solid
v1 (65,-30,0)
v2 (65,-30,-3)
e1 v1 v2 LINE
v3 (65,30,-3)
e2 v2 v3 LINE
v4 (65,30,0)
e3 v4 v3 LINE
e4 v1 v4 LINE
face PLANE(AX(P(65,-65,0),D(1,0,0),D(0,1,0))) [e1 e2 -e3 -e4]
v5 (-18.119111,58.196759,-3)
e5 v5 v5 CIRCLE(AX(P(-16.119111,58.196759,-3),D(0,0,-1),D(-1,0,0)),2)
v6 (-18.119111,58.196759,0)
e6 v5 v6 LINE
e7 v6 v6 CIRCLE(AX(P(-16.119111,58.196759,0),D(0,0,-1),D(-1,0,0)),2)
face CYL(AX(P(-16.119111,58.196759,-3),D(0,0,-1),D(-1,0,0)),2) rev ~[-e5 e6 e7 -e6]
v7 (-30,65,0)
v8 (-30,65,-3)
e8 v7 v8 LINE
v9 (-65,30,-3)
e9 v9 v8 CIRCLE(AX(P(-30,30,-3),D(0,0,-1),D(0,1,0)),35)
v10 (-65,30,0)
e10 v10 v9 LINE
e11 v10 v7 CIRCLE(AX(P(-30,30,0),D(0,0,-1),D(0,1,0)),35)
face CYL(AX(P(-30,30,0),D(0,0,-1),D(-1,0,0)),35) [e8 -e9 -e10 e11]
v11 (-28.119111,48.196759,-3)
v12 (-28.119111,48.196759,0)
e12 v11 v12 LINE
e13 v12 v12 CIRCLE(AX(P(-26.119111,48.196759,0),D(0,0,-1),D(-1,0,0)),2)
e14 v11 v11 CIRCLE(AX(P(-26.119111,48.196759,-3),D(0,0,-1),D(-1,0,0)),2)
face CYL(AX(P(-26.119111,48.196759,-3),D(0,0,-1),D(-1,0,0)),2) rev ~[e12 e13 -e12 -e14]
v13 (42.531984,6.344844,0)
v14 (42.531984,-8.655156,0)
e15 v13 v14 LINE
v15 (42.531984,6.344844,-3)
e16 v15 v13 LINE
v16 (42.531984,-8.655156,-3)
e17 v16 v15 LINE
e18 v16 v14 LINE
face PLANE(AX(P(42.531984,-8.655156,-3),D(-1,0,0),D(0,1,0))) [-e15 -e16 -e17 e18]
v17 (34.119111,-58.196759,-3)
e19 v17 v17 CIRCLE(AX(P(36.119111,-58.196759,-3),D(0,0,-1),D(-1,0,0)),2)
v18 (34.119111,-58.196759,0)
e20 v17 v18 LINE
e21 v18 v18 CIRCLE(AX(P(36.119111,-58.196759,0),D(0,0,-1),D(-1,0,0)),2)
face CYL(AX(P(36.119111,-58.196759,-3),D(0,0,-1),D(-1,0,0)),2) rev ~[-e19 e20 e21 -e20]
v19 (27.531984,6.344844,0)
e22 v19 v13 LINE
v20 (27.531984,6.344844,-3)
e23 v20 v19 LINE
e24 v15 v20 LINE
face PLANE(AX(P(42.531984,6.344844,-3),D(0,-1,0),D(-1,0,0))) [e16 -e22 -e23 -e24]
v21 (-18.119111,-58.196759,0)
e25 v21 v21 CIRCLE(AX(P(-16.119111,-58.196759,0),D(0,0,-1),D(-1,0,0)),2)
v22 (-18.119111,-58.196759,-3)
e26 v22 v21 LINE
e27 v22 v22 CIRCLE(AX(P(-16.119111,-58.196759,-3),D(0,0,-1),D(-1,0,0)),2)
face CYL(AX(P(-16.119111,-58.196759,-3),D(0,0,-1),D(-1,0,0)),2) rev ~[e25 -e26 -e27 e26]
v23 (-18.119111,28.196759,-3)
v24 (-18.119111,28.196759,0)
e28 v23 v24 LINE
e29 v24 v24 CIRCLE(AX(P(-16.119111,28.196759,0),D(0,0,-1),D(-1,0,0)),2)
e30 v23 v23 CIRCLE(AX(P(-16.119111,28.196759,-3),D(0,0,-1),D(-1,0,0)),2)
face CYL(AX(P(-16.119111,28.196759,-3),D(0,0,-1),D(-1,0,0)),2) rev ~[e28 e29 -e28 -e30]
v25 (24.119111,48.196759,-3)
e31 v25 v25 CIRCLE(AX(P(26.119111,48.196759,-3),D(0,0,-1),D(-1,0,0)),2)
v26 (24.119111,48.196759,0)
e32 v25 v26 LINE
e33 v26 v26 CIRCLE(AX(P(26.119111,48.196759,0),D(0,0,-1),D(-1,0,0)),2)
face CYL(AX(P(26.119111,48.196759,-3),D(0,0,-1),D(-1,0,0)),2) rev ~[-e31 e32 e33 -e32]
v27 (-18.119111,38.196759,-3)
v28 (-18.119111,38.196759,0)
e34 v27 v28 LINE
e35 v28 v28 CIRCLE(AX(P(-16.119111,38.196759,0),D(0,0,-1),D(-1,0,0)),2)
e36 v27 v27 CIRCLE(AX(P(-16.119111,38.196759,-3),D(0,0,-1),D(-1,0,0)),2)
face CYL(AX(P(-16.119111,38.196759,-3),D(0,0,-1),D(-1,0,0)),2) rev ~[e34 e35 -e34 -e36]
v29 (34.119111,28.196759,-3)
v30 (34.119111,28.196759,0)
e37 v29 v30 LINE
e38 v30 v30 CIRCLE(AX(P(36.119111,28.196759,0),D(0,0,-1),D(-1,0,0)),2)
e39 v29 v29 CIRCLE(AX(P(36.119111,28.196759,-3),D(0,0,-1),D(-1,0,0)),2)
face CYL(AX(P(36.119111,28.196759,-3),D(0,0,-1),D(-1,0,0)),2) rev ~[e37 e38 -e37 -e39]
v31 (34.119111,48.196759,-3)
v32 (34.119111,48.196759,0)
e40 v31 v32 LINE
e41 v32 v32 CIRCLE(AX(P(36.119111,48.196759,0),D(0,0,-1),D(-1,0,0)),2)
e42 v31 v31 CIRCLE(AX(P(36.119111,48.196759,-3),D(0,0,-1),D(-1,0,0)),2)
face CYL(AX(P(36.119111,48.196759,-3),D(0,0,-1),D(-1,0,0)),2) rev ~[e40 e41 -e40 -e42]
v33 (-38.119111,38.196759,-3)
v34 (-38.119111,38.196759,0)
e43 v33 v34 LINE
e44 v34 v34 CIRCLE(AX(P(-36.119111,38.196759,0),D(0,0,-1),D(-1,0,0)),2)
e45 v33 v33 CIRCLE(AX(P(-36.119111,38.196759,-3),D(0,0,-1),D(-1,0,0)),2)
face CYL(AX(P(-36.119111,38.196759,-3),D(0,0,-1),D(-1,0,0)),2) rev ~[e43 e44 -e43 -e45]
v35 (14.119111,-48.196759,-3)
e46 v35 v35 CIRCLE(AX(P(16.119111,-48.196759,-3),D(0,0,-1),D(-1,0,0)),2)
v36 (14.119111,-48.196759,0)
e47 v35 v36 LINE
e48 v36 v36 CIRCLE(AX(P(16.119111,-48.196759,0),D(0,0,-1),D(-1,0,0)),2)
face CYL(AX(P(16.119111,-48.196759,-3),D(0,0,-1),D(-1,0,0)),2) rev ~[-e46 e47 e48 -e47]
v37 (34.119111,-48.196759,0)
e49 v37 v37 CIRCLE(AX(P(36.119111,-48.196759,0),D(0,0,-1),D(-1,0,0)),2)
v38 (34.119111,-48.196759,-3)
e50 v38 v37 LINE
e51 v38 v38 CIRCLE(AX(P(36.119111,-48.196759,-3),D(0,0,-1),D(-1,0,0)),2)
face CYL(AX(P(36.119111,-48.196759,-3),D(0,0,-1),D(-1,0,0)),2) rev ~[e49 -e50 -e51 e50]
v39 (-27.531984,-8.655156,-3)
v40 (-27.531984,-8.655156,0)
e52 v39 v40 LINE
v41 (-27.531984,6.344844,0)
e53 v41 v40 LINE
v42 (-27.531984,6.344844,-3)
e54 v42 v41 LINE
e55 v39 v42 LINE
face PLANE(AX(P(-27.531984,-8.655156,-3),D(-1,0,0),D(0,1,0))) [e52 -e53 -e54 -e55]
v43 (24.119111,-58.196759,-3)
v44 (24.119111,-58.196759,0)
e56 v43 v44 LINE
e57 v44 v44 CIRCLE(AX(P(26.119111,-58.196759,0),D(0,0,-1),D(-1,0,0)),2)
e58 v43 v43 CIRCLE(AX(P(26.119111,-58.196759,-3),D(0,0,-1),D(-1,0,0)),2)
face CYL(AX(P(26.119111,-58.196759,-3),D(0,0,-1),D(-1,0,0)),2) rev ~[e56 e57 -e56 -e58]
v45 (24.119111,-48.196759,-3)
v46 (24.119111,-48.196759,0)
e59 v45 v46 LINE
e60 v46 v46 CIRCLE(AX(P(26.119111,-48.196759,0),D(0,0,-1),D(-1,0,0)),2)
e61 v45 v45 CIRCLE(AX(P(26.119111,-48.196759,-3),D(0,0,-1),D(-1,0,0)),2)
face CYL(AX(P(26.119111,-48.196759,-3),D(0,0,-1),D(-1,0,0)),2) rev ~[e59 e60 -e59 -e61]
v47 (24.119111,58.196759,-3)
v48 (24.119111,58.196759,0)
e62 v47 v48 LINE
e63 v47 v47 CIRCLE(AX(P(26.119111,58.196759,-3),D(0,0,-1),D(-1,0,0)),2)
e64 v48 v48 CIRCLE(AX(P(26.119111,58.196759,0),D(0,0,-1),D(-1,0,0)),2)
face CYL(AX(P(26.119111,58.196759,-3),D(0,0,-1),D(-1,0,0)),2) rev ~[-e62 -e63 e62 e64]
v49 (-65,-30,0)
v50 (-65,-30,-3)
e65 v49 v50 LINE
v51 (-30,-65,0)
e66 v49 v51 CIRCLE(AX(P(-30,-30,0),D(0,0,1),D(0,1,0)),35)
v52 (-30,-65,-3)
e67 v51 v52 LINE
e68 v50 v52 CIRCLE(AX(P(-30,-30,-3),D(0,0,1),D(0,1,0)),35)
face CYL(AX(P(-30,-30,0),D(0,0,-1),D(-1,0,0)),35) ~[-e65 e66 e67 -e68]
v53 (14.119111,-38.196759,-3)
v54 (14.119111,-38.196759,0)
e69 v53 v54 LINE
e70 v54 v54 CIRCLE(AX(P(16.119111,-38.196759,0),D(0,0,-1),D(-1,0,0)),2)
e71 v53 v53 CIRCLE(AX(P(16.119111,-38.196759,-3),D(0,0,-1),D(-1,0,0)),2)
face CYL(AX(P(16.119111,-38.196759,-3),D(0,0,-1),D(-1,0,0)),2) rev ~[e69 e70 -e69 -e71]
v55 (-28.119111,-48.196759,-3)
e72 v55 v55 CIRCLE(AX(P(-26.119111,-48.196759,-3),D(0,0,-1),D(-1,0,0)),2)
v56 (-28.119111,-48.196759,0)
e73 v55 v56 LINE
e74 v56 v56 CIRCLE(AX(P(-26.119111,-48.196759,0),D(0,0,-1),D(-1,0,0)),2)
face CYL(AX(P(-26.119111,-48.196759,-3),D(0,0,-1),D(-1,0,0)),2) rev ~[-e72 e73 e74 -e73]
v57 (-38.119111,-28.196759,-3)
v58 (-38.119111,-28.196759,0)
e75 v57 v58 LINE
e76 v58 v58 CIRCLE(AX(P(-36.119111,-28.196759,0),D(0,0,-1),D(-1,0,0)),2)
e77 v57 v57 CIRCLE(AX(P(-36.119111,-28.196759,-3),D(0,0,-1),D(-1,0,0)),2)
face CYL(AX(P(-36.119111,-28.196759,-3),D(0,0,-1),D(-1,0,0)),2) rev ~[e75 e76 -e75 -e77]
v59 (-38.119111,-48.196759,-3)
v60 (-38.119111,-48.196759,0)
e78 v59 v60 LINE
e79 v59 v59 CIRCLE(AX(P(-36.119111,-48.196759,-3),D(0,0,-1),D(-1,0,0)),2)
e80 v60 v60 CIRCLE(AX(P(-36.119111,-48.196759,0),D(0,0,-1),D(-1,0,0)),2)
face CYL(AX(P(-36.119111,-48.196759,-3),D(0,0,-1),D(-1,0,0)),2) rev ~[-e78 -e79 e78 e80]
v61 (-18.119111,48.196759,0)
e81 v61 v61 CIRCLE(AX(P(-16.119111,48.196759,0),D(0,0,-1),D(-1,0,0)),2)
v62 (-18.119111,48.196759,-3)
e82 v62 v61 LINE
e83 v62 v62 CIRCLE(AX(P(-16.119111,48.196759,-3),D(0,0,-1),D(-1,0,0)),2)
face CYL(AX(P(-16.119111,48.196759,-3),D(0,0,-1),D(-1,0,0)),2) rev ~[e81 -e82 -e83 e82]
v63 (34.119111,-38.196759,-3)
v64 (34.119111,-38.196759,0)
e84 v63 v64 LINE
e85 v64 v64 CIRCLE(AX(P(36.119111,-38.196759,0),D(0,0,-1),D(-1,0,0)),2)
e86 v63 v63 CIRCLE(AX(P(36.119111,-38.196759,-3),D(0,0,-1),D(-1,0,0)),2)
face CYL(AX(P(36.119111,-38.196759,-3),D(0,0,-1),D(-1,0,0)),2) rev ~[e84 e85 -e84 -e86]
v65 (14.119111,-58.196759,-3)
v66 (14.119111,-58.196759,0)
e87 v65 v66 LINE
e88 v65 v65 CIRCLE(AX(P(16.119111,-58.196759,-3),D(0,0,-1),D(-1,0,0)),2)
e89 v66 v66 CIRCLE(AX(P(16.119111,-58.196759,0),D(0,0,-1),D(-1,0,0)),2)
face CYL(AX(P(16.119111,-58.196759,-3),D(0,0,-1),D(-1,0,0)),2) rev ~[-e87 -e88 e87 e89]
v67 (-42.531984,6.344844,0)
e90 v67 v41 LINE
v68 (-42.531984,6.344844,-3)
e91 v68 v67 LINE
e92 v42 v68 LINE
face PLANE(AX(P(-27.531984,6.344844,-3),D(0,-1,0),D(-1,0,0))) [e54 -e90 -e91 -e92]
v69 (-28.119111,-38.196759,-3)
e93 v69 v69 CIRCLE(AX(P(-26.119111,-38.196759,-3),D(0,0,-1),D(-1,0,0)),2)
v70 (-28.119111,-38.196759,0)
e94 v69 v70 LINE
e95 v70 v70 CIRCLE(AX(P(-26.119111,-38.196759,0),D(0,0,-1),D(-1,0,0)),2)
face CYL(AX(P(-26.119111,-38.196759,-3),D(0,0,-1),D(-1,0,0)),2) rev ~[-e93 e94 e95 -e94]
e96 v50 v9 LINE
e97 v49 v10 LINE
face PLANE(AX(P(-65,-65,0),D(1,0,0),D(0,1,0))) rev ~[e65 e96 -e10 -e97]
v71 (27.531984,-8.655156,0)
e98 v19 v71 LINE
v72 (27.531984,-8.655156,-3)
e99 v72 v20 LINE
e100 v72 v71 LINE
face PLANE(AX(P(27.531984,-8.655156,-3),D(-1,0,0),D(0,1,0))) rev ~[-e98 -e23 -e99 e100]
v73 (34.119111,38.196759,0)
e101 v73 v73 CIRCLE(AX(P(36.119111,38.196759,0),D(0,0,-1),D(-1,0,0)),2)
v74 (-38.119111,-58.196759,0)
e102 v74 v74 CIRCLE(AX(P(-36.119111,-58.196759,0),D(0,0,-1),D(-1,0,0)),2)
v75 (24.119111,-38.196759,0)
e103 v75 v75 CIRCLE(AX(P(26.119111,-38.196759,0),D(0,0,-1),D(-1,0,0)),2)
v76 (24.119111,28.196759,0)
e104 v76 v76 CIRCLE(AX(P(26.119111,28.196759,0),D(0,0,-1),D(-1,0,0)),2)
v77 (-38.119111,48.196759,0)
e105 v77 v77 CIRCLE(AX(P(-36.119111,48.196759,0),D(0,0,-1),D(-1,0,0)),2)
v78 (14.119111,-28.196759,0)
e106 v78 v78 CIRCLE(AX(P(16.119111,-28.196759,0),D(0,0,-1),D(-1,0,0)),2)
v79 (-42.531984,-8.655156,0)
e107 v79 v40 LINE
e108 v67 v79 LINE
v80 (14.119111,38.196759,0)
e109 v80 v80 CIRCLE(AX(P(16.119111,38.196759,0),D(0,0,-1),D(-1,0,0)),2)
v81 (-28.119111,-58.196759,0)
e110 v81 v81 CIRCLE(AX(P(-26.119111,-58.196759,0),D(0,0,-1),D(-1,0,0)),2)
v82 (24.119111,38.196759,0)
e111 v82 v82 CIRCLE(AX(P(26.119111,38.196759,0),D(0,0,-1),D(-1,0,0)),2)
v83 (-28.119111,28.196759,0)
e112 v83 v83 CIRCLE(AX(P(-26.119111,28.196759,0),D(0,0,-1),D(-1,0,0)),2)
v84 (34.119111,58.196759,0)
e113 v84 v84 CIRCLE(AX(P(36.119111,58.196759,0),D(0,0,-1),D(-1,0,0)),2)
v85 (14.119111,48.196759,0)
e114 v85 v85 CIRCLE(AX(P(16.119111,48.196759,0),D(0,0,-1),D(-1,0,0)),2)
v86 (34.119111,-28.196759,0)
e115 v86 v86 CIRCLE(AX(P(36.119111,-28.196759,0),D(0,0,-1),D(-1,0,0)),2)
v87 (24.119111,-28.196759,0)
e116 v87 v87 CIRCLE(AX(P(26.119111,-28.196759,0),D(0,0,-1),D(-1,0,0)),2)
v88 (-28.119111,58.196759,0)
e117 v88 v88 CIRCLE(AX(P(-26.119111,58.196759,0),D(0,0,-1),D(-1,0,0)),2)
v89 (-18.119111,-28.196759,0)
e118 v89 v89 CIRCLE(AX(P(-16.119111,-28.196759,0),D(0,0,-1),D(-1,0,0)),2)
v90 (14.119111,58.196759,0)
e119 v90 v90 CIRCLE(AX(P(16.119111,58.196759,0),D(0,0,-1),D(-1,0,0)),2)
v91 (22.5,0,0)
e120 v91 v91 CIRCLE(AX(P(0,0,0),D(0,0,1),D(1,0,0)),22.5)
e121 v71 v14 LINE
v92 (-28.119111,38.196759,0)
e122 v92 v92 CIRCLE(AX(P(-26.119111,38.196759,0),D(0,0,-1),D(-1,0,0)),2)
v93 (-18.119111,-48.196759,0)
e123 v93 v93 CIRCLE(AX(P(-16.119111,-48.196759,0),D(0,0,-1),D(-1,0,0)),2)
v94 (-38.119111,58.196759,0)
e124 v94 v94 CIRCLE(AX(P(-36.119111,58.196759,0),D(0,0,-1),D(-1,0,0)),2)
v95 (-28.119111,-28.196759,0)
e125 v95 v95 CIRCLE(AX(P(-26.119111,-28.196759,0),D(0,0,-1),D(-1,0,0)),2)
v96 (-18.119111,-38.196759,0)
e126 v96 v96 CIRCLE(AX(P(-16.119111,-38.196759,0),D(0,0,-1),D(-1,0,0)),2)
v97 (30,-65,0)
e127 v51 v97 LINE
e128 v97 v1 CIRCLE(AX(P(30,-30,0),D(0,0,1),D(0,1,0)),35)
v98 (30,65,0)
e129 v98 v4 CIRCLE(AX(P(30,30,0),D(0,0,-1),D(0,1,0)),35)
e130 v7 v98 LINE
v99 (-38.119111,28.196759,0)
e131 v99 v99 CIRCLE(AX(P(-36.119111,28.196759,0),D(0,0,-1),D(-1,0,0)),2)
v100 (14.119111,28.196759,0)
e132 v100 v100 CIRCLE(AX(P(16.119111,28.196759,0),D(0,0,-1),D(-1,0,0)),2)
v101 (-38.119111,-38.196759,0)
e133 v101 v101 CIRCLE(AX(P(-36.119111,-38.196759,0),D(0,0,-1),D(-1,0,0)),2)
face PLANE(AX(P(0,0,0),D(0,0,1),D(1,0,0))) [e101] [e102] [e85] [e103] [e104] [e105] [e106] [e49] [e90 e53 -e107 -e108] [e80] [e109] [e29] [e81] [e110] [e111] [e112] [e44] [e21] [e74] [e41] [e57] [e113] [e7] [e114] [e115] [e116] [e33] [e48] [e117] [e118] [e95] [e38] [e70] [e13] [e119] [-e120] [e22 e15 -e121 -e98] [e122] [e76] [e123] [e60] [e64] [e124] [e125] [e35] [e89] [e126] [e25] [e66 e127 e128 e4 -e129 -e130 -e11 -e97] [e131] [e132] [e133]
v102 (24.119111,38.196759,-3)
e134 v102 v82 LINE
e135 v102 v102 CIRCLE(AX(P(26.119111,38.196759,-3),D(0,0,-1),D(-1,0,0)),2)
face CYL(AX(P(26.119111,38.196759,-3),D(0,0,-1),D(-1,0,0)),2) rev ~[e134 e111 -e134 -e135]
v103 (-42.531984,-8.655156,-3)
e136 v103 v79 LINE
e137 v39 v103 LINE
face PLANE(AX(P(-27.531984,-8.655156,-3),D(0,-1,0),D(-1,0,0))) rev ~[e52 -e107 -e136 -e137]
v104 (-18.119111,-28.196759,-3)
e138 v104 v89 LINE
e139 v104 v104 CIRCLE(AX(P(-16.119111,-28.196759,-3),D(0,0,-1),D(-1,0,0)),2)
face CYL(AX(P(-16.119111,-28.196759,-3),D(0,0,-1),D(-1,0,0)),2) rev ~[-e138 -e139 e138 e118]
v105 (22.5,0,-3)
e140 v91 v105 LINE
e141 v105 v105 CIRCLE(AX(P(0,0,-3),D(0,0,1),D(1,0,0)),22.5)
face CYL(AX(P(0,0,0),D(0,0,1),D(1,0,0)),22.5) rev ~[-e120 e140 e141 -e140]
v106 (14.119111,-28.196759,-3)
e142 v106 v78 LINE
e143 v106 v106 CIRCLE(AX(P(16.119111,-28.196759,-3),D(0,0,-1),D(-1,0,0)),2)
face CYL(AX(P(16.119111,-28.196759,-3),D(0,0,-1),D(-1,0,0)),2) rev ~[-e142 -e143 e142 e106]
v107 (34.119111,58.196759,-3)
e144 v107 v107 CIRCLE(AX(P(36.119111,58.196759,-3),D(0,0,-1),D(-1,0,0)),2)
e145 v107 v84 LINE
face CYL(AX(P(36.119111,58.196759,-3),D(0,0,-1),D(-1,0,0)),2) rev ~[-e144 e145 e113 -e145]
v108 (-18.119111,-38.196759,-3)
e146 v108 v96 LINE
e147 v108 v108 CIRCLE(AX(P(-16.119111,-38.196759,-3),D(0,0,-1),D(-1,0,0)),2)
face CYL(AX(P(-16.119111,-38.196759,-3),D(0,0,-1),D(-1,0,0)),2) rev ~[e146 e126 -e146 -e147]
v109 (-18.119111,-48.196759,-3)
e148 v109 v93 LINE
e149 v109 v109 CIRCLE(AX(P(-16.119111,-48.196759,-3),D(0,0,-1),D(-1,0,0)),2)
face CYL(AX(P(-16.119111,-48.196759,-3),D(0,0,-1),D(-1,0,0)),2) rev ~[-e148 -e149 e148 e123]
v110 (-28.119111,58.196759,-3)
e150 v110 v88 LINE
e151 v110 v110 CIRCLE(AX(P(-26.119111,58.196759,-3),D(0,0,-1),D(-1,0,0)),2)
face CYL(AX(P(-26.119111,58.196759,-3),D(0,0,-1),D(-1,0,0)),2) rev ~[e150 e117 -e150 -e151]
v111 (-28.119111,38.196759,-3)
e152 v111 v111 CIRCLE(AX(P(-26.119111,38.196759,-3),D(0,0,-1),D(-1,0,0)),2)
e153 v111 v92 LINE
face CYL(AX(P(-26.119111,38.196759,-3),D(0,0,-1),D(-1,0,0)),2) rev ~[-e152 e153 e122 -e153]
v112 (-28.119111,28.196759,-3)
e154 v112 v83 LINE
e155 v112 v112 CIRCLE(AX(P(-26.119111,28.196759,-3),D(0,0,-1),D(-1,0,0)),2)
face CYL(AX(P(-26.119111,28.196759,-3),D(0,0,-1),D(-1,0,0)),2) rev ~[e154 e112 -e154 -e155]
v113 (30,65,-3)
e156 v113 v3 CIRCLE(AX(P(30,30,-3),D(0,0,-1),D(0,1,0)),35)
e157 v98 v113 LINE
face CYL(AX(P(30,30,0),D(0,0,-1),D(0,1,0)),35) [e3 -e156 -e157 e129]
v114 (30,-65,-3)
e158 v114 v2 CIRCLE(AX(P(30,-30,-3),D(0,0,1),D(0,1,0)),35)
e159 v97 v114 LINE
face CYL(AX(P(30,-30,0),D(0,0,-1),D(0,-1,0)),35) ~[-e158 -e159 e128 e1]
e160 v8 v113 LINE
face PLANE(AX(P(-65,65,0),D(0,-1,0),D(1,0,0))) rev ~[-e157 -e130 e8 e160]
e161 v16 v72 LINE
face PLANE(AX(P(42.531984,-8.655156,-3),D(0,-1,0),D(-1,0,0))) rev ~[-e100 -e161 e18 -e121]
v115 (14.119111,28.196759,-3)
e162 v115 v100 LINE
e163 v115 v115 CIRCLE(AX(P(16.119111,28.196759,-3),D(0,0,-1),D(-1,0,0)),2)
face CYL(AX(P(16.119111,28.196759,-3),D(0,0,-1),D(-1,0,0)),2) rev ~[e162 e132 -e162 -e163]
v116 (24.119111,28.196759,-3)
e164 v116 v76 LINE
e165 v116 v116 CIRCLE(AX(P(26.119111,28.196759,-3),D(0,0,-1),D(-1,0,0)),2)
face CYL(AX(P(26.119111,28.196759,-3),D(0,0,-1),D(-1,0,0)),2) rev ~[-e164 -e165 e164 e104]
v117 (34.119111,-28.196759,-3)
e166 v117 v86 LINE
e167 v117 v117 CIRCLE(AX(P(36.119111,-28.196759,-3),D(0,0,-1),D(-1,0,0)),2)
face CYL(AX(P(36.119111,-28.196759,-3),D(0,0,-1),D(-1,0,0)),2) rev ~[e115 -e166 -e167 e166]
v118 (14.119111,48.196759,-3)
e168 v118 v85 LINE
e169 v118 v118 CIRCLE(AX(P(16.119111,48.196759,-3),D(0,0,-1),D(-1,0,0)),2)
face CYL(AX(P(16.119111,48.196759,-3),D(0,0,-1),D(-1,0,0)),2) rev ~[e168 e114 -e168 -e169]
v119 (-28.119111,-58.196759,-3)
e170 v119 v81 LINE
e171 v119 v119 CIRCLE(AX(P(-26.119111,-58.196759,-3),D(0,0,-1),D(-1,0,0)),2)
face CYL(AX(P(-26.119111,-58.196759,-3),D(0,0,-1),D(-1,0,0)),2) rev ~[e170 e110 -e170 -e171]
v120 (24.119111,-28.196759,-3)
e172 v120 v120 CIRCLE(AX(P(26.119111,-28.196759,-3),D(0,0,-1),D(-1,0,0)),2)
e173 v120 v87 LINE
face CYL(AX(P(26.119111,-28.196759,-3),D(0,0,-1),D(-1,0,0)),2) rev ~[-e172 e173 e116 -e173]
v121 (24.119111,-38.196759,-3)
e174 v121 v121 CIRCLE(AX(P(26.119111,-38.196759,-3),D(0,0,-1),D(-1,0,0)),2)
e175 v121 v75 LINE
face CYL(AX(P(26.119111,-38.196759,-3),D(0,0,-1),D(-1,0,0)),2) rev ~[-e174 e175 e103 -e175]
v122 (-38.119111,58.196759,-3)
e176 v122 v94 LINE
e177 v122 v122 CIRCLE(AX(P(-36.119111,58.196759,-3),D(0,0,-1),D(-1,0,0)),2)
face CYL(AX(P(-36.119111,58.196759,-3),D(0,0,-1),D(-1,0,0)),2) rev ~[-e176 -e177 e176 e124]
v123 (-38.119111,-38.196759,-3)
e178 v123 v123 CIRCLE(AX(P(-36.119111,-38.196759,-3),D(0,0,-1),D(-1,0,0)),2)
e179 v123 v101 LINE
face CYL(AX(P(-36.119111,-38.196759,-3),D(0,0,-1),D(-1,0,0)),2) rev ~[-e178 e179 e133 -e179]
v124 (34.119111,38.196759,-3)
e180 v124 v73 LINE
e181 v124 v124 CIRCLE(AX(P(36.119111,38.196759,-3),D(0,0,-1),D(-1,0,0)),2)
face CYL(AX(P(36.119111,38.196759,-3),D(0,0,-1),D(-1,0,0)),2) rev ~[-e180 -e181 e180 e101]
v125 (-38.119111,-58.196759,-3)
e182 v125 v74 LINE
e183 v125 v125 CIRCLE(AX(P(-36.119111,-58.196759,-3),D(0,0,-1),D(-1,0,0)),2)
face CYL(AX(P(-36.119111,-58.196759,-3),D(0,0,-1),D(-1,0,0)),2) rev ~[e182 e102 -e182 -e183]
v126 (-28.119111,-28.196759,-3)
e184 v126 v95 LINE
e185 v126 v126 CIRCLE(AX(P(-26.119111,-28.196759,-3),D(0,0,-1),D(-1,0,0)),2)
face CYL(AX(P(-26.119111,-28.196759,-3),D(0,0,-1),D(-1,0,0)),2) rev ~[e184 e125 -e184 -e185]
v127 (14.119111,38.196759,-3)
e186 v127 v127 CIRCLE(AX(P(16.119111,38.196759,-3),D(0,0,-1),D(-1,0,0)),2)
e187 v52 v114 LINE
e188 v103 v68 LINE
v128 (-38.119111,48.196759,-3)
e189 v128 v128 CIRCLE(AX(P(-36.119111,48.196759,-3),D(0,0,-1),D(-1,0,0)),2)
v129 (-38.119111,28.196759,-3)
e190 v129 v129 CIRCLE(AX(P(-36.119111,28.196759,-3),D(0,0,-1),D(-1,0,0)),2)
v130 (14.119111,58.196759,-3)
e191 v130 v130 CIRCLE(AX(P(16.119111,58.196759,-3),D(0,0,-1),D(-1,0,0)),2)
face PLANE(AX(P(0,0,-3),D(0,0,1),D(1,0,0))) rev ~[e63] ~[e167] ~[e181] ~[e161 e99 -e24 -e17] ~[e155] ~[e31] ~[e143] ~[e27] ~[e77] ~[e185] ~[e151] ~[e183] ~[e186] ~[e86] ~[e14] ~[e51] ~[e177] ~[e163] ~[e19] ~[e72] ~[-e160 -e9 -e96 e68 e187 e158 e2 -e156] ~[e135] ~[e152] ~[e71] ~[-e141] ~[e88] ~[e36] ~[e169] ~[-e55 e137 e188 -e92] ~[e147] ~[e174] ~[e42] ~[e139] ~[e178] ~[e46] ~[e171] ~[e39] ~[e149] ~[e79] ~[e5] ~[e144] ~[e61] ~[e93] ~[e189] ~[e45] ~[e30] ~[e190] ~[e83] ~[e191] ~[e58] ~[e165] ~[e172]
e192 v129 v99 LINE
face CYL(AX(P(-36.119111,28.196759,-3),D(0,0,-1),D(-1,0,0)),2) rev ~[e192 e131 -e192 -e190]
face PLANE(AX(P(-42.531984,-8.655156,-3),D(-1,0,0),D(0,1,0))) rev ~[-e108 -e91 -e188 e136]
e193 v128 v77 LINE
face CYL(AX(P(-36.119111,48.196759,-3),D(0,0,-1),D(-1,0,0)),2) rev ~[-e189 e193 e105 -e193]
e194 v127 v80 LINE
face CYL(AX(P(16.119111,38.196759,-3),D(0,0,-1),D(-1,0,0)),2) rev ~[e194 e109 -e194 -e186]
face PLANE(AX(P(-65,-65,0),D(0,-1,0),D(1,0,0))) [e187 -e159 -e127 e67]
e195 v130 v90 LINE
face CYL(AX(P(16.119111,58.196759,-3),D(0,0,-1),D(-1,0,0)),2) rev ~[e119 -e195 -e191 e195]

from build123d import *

# Parameters (mm, degrees)
SKETCH_1_W          = 130
SKETCH_1_H          = 130
SKETCH_1_R          = 22.5
EXTRUDE_1_DEPTH     = 3
FILLET_1_R          = 35
SKETCH_5_R          = 2
SKETCH_5_W          = 15
SKETCH_5_H          = 15
CUT_EXTRUDE_2_DEPTH = 13


with BuildPart() as part:
    # 草图1 → 凸台-拉伸1 (new body)
    with BuildSketch(Plane.XY):
        Rectangle(SKETCH_1_W, SKETCH_1_H)
        Circle(SKETCH_1_R, mode=Mode.SUBTRACT)
    extrude(amount=-EXTRUDE_1_DEPTH)

    # 圆角1
    fillet_1_edges = [part.edges().sort_by_distance(p)[0] for p in [
        (65, -65, -1.5),
        (-65, -65, -1.5),
        (-65, 65, -1.5),
        (65, 65, -1.5),
    ]]
    fillet(fillet_1_edges, radius=FILLET_1_R)

    # 草图5 → 切除-拉伸2 (cut)
    with BuildSketch(Plane(origin=(0, 0, -3), x_dir=(-1, 0, 0), z_dir=(0, 0, -1))):
        with Locations((36.119111303, 58.196758832)):
            Circle(SKETCH_5_R)
        with Locations((36.119111303, 48.196758832)):
            Circle(SKETCH_5_R)
        with Locations((36.119111303, 38.196758832)):
            Circle(SKETCH_5_R)
        with Locations((-36.119111303, -58.196758832)):
            Circle(SKETCH_5_R)
        with Locations((16.119111303, 48.196758832)):
            Circle(SKETCH_5_R)
        with Locations((16.119111303, 38.196758832)):
            Circle(SKETCH_5_R)
        with Locations((16.119111303, 28.196758832)):
            Circle(SKETCH_5_R)
        with Locations((26.119111303, 58.196758832)):
            Circle(SKETCH_5_R)
        with Locations((16.119111303, -48.196758832)):
            Circle(SKETCH_5_R)
        with Locations((26.119111303, -28.196758832)):
            Circle(SKETCH_5_R)
        with Locations((36.119111303, 28.196758832)):
            Circle(SKETCH_5_R)
        with Locations((26.119111303, 48.196758832)):
            Circle(SKETCH_5_R)
        with Locations((26.119111303, 38.196758832)):
            Circle(SKETCH_5_R)
        with Locations((26.119111303, 28.196758832)):
            Circle(SKETCH_5_R)
        with Locations((16.119111303, 58.196758832)):
            Circle(SKETCH_5_R)
        with Locations((16.119111303, -58.196758832)):
            Circle(SKETCH_5_R)
        with Locations((26.119111303, -58.196758832)):
            Circle(SKETCH_5_R)
        with Locations((16.119111303, -28.196758832)):
            Circle(SKETCH_5_R)
        with Locations((16.119111303, -38.196758832)):
            Circle(SKETCH_5_R)
        with Locations((36.119111303, -38.196758832)):
            Circle(SKETCH_5_R)
        with Locations((36.119111303, -48.196758832)):
            Circle(SKETCH_5_R)
        with Locations((36.119111303, -58.196758832)):
            Circle(SKETCH_5_R)
        with Locations((-36.119111303, -48.196758832)):
            Circle(SKETCH_5_R)
        with Locations((-36.119111303, -38.196758832)):
            Circle(SKETCH_5_R)
        with Locations((-16.119111303, -38.196758832)):
            Circle(SKETCH_5_R)
        with Locations((-16.119111303, -28.196758832)):
            Circle(SKETCH_5_R)
        with Locations((-26.119111303, -58.196758832)):
            Circle(SKETCH_5_R)
        with Locations((26.119111303, -38.196758832)):
            Circle(SKETCH_5_R)
        with Locations((26.119111303, -48.196758832)):
            Circle(SKETCH_5_R)
        with Locations((36.119111303, -28.196758832)):
            Circle(SKETCH_5_R)
        with Locations((-36.119111303, -28.196758832)):
            Circle(SKETCH_5_R)
        with Locations((-26.119111303, -48.196758832)):
            Circle(SKETCH_5_R)
        with Locations((-26.119111303, -38.196758832)):
            Circle(SKETCH_5_R)
        with Locations((-26.119111303, -28.196758832)):
            Circle(SKETCH_5_R)
        with Locations((-16.119111303, -48.196758832)):
            Circle(SKETCH_5_R)
        with Locations((-16.119111303, 28.196758832)):
            Circle(SKETCH_5_R)
        with Locations((-16.119111303, 38.196758832)):
            Circle(SKETCH_5_R)
        with Locations((-16.119111303, 48.196758832)):
            Circle(SKETCH_5_R)
        with Locations((-26.119111303, 28.196758832)):
            Circle(SKETCH_5_R)
        with Locations((-26.119111303, 38.196758832)):
            Circle(SKETCH_5_R)
        with Locations((-36.119111303, 38.196758832)):
            Circle(SKETCH_5_R)
        with Locations((-36.119111303, 48.196758832)):
            Circle(SKETCH_5_R)
        with Locations((-36.119111303, 58.196758832)):
            Circle(SKETCH_5_R)
        with Locations((-16.119111303, -58.196758832)):
            Circle(SKETCH_5_R)
        with Locations((-16.119111303, 58.196758832)):
            Circle(SKETCH_5_R)
        with Locations((-26.119111303, 58.196758832)):
            Circle(SKETCH_5_R)
        with Locations((-26.119111303, 48.196758832)):
            Circle(SKETCH_5_R)
        with Locations((-36.119111303, 28.196758832)):
            Circle(SKETCH_5_R)
        with Locations((35.031984266, -1.155156202)):
            Rectangle(SKETCH_5_W, SKETCH_5_H)
        with Locations((-35.031984266, -1.155156202)):
            Rectangle(SKETCH_5_W, SKETCH_5_H)
    extrude(amount=-CUT_EXTRUDE_2_DEPTH, mode=Mode.SUBTRACT)


solid = part.part
